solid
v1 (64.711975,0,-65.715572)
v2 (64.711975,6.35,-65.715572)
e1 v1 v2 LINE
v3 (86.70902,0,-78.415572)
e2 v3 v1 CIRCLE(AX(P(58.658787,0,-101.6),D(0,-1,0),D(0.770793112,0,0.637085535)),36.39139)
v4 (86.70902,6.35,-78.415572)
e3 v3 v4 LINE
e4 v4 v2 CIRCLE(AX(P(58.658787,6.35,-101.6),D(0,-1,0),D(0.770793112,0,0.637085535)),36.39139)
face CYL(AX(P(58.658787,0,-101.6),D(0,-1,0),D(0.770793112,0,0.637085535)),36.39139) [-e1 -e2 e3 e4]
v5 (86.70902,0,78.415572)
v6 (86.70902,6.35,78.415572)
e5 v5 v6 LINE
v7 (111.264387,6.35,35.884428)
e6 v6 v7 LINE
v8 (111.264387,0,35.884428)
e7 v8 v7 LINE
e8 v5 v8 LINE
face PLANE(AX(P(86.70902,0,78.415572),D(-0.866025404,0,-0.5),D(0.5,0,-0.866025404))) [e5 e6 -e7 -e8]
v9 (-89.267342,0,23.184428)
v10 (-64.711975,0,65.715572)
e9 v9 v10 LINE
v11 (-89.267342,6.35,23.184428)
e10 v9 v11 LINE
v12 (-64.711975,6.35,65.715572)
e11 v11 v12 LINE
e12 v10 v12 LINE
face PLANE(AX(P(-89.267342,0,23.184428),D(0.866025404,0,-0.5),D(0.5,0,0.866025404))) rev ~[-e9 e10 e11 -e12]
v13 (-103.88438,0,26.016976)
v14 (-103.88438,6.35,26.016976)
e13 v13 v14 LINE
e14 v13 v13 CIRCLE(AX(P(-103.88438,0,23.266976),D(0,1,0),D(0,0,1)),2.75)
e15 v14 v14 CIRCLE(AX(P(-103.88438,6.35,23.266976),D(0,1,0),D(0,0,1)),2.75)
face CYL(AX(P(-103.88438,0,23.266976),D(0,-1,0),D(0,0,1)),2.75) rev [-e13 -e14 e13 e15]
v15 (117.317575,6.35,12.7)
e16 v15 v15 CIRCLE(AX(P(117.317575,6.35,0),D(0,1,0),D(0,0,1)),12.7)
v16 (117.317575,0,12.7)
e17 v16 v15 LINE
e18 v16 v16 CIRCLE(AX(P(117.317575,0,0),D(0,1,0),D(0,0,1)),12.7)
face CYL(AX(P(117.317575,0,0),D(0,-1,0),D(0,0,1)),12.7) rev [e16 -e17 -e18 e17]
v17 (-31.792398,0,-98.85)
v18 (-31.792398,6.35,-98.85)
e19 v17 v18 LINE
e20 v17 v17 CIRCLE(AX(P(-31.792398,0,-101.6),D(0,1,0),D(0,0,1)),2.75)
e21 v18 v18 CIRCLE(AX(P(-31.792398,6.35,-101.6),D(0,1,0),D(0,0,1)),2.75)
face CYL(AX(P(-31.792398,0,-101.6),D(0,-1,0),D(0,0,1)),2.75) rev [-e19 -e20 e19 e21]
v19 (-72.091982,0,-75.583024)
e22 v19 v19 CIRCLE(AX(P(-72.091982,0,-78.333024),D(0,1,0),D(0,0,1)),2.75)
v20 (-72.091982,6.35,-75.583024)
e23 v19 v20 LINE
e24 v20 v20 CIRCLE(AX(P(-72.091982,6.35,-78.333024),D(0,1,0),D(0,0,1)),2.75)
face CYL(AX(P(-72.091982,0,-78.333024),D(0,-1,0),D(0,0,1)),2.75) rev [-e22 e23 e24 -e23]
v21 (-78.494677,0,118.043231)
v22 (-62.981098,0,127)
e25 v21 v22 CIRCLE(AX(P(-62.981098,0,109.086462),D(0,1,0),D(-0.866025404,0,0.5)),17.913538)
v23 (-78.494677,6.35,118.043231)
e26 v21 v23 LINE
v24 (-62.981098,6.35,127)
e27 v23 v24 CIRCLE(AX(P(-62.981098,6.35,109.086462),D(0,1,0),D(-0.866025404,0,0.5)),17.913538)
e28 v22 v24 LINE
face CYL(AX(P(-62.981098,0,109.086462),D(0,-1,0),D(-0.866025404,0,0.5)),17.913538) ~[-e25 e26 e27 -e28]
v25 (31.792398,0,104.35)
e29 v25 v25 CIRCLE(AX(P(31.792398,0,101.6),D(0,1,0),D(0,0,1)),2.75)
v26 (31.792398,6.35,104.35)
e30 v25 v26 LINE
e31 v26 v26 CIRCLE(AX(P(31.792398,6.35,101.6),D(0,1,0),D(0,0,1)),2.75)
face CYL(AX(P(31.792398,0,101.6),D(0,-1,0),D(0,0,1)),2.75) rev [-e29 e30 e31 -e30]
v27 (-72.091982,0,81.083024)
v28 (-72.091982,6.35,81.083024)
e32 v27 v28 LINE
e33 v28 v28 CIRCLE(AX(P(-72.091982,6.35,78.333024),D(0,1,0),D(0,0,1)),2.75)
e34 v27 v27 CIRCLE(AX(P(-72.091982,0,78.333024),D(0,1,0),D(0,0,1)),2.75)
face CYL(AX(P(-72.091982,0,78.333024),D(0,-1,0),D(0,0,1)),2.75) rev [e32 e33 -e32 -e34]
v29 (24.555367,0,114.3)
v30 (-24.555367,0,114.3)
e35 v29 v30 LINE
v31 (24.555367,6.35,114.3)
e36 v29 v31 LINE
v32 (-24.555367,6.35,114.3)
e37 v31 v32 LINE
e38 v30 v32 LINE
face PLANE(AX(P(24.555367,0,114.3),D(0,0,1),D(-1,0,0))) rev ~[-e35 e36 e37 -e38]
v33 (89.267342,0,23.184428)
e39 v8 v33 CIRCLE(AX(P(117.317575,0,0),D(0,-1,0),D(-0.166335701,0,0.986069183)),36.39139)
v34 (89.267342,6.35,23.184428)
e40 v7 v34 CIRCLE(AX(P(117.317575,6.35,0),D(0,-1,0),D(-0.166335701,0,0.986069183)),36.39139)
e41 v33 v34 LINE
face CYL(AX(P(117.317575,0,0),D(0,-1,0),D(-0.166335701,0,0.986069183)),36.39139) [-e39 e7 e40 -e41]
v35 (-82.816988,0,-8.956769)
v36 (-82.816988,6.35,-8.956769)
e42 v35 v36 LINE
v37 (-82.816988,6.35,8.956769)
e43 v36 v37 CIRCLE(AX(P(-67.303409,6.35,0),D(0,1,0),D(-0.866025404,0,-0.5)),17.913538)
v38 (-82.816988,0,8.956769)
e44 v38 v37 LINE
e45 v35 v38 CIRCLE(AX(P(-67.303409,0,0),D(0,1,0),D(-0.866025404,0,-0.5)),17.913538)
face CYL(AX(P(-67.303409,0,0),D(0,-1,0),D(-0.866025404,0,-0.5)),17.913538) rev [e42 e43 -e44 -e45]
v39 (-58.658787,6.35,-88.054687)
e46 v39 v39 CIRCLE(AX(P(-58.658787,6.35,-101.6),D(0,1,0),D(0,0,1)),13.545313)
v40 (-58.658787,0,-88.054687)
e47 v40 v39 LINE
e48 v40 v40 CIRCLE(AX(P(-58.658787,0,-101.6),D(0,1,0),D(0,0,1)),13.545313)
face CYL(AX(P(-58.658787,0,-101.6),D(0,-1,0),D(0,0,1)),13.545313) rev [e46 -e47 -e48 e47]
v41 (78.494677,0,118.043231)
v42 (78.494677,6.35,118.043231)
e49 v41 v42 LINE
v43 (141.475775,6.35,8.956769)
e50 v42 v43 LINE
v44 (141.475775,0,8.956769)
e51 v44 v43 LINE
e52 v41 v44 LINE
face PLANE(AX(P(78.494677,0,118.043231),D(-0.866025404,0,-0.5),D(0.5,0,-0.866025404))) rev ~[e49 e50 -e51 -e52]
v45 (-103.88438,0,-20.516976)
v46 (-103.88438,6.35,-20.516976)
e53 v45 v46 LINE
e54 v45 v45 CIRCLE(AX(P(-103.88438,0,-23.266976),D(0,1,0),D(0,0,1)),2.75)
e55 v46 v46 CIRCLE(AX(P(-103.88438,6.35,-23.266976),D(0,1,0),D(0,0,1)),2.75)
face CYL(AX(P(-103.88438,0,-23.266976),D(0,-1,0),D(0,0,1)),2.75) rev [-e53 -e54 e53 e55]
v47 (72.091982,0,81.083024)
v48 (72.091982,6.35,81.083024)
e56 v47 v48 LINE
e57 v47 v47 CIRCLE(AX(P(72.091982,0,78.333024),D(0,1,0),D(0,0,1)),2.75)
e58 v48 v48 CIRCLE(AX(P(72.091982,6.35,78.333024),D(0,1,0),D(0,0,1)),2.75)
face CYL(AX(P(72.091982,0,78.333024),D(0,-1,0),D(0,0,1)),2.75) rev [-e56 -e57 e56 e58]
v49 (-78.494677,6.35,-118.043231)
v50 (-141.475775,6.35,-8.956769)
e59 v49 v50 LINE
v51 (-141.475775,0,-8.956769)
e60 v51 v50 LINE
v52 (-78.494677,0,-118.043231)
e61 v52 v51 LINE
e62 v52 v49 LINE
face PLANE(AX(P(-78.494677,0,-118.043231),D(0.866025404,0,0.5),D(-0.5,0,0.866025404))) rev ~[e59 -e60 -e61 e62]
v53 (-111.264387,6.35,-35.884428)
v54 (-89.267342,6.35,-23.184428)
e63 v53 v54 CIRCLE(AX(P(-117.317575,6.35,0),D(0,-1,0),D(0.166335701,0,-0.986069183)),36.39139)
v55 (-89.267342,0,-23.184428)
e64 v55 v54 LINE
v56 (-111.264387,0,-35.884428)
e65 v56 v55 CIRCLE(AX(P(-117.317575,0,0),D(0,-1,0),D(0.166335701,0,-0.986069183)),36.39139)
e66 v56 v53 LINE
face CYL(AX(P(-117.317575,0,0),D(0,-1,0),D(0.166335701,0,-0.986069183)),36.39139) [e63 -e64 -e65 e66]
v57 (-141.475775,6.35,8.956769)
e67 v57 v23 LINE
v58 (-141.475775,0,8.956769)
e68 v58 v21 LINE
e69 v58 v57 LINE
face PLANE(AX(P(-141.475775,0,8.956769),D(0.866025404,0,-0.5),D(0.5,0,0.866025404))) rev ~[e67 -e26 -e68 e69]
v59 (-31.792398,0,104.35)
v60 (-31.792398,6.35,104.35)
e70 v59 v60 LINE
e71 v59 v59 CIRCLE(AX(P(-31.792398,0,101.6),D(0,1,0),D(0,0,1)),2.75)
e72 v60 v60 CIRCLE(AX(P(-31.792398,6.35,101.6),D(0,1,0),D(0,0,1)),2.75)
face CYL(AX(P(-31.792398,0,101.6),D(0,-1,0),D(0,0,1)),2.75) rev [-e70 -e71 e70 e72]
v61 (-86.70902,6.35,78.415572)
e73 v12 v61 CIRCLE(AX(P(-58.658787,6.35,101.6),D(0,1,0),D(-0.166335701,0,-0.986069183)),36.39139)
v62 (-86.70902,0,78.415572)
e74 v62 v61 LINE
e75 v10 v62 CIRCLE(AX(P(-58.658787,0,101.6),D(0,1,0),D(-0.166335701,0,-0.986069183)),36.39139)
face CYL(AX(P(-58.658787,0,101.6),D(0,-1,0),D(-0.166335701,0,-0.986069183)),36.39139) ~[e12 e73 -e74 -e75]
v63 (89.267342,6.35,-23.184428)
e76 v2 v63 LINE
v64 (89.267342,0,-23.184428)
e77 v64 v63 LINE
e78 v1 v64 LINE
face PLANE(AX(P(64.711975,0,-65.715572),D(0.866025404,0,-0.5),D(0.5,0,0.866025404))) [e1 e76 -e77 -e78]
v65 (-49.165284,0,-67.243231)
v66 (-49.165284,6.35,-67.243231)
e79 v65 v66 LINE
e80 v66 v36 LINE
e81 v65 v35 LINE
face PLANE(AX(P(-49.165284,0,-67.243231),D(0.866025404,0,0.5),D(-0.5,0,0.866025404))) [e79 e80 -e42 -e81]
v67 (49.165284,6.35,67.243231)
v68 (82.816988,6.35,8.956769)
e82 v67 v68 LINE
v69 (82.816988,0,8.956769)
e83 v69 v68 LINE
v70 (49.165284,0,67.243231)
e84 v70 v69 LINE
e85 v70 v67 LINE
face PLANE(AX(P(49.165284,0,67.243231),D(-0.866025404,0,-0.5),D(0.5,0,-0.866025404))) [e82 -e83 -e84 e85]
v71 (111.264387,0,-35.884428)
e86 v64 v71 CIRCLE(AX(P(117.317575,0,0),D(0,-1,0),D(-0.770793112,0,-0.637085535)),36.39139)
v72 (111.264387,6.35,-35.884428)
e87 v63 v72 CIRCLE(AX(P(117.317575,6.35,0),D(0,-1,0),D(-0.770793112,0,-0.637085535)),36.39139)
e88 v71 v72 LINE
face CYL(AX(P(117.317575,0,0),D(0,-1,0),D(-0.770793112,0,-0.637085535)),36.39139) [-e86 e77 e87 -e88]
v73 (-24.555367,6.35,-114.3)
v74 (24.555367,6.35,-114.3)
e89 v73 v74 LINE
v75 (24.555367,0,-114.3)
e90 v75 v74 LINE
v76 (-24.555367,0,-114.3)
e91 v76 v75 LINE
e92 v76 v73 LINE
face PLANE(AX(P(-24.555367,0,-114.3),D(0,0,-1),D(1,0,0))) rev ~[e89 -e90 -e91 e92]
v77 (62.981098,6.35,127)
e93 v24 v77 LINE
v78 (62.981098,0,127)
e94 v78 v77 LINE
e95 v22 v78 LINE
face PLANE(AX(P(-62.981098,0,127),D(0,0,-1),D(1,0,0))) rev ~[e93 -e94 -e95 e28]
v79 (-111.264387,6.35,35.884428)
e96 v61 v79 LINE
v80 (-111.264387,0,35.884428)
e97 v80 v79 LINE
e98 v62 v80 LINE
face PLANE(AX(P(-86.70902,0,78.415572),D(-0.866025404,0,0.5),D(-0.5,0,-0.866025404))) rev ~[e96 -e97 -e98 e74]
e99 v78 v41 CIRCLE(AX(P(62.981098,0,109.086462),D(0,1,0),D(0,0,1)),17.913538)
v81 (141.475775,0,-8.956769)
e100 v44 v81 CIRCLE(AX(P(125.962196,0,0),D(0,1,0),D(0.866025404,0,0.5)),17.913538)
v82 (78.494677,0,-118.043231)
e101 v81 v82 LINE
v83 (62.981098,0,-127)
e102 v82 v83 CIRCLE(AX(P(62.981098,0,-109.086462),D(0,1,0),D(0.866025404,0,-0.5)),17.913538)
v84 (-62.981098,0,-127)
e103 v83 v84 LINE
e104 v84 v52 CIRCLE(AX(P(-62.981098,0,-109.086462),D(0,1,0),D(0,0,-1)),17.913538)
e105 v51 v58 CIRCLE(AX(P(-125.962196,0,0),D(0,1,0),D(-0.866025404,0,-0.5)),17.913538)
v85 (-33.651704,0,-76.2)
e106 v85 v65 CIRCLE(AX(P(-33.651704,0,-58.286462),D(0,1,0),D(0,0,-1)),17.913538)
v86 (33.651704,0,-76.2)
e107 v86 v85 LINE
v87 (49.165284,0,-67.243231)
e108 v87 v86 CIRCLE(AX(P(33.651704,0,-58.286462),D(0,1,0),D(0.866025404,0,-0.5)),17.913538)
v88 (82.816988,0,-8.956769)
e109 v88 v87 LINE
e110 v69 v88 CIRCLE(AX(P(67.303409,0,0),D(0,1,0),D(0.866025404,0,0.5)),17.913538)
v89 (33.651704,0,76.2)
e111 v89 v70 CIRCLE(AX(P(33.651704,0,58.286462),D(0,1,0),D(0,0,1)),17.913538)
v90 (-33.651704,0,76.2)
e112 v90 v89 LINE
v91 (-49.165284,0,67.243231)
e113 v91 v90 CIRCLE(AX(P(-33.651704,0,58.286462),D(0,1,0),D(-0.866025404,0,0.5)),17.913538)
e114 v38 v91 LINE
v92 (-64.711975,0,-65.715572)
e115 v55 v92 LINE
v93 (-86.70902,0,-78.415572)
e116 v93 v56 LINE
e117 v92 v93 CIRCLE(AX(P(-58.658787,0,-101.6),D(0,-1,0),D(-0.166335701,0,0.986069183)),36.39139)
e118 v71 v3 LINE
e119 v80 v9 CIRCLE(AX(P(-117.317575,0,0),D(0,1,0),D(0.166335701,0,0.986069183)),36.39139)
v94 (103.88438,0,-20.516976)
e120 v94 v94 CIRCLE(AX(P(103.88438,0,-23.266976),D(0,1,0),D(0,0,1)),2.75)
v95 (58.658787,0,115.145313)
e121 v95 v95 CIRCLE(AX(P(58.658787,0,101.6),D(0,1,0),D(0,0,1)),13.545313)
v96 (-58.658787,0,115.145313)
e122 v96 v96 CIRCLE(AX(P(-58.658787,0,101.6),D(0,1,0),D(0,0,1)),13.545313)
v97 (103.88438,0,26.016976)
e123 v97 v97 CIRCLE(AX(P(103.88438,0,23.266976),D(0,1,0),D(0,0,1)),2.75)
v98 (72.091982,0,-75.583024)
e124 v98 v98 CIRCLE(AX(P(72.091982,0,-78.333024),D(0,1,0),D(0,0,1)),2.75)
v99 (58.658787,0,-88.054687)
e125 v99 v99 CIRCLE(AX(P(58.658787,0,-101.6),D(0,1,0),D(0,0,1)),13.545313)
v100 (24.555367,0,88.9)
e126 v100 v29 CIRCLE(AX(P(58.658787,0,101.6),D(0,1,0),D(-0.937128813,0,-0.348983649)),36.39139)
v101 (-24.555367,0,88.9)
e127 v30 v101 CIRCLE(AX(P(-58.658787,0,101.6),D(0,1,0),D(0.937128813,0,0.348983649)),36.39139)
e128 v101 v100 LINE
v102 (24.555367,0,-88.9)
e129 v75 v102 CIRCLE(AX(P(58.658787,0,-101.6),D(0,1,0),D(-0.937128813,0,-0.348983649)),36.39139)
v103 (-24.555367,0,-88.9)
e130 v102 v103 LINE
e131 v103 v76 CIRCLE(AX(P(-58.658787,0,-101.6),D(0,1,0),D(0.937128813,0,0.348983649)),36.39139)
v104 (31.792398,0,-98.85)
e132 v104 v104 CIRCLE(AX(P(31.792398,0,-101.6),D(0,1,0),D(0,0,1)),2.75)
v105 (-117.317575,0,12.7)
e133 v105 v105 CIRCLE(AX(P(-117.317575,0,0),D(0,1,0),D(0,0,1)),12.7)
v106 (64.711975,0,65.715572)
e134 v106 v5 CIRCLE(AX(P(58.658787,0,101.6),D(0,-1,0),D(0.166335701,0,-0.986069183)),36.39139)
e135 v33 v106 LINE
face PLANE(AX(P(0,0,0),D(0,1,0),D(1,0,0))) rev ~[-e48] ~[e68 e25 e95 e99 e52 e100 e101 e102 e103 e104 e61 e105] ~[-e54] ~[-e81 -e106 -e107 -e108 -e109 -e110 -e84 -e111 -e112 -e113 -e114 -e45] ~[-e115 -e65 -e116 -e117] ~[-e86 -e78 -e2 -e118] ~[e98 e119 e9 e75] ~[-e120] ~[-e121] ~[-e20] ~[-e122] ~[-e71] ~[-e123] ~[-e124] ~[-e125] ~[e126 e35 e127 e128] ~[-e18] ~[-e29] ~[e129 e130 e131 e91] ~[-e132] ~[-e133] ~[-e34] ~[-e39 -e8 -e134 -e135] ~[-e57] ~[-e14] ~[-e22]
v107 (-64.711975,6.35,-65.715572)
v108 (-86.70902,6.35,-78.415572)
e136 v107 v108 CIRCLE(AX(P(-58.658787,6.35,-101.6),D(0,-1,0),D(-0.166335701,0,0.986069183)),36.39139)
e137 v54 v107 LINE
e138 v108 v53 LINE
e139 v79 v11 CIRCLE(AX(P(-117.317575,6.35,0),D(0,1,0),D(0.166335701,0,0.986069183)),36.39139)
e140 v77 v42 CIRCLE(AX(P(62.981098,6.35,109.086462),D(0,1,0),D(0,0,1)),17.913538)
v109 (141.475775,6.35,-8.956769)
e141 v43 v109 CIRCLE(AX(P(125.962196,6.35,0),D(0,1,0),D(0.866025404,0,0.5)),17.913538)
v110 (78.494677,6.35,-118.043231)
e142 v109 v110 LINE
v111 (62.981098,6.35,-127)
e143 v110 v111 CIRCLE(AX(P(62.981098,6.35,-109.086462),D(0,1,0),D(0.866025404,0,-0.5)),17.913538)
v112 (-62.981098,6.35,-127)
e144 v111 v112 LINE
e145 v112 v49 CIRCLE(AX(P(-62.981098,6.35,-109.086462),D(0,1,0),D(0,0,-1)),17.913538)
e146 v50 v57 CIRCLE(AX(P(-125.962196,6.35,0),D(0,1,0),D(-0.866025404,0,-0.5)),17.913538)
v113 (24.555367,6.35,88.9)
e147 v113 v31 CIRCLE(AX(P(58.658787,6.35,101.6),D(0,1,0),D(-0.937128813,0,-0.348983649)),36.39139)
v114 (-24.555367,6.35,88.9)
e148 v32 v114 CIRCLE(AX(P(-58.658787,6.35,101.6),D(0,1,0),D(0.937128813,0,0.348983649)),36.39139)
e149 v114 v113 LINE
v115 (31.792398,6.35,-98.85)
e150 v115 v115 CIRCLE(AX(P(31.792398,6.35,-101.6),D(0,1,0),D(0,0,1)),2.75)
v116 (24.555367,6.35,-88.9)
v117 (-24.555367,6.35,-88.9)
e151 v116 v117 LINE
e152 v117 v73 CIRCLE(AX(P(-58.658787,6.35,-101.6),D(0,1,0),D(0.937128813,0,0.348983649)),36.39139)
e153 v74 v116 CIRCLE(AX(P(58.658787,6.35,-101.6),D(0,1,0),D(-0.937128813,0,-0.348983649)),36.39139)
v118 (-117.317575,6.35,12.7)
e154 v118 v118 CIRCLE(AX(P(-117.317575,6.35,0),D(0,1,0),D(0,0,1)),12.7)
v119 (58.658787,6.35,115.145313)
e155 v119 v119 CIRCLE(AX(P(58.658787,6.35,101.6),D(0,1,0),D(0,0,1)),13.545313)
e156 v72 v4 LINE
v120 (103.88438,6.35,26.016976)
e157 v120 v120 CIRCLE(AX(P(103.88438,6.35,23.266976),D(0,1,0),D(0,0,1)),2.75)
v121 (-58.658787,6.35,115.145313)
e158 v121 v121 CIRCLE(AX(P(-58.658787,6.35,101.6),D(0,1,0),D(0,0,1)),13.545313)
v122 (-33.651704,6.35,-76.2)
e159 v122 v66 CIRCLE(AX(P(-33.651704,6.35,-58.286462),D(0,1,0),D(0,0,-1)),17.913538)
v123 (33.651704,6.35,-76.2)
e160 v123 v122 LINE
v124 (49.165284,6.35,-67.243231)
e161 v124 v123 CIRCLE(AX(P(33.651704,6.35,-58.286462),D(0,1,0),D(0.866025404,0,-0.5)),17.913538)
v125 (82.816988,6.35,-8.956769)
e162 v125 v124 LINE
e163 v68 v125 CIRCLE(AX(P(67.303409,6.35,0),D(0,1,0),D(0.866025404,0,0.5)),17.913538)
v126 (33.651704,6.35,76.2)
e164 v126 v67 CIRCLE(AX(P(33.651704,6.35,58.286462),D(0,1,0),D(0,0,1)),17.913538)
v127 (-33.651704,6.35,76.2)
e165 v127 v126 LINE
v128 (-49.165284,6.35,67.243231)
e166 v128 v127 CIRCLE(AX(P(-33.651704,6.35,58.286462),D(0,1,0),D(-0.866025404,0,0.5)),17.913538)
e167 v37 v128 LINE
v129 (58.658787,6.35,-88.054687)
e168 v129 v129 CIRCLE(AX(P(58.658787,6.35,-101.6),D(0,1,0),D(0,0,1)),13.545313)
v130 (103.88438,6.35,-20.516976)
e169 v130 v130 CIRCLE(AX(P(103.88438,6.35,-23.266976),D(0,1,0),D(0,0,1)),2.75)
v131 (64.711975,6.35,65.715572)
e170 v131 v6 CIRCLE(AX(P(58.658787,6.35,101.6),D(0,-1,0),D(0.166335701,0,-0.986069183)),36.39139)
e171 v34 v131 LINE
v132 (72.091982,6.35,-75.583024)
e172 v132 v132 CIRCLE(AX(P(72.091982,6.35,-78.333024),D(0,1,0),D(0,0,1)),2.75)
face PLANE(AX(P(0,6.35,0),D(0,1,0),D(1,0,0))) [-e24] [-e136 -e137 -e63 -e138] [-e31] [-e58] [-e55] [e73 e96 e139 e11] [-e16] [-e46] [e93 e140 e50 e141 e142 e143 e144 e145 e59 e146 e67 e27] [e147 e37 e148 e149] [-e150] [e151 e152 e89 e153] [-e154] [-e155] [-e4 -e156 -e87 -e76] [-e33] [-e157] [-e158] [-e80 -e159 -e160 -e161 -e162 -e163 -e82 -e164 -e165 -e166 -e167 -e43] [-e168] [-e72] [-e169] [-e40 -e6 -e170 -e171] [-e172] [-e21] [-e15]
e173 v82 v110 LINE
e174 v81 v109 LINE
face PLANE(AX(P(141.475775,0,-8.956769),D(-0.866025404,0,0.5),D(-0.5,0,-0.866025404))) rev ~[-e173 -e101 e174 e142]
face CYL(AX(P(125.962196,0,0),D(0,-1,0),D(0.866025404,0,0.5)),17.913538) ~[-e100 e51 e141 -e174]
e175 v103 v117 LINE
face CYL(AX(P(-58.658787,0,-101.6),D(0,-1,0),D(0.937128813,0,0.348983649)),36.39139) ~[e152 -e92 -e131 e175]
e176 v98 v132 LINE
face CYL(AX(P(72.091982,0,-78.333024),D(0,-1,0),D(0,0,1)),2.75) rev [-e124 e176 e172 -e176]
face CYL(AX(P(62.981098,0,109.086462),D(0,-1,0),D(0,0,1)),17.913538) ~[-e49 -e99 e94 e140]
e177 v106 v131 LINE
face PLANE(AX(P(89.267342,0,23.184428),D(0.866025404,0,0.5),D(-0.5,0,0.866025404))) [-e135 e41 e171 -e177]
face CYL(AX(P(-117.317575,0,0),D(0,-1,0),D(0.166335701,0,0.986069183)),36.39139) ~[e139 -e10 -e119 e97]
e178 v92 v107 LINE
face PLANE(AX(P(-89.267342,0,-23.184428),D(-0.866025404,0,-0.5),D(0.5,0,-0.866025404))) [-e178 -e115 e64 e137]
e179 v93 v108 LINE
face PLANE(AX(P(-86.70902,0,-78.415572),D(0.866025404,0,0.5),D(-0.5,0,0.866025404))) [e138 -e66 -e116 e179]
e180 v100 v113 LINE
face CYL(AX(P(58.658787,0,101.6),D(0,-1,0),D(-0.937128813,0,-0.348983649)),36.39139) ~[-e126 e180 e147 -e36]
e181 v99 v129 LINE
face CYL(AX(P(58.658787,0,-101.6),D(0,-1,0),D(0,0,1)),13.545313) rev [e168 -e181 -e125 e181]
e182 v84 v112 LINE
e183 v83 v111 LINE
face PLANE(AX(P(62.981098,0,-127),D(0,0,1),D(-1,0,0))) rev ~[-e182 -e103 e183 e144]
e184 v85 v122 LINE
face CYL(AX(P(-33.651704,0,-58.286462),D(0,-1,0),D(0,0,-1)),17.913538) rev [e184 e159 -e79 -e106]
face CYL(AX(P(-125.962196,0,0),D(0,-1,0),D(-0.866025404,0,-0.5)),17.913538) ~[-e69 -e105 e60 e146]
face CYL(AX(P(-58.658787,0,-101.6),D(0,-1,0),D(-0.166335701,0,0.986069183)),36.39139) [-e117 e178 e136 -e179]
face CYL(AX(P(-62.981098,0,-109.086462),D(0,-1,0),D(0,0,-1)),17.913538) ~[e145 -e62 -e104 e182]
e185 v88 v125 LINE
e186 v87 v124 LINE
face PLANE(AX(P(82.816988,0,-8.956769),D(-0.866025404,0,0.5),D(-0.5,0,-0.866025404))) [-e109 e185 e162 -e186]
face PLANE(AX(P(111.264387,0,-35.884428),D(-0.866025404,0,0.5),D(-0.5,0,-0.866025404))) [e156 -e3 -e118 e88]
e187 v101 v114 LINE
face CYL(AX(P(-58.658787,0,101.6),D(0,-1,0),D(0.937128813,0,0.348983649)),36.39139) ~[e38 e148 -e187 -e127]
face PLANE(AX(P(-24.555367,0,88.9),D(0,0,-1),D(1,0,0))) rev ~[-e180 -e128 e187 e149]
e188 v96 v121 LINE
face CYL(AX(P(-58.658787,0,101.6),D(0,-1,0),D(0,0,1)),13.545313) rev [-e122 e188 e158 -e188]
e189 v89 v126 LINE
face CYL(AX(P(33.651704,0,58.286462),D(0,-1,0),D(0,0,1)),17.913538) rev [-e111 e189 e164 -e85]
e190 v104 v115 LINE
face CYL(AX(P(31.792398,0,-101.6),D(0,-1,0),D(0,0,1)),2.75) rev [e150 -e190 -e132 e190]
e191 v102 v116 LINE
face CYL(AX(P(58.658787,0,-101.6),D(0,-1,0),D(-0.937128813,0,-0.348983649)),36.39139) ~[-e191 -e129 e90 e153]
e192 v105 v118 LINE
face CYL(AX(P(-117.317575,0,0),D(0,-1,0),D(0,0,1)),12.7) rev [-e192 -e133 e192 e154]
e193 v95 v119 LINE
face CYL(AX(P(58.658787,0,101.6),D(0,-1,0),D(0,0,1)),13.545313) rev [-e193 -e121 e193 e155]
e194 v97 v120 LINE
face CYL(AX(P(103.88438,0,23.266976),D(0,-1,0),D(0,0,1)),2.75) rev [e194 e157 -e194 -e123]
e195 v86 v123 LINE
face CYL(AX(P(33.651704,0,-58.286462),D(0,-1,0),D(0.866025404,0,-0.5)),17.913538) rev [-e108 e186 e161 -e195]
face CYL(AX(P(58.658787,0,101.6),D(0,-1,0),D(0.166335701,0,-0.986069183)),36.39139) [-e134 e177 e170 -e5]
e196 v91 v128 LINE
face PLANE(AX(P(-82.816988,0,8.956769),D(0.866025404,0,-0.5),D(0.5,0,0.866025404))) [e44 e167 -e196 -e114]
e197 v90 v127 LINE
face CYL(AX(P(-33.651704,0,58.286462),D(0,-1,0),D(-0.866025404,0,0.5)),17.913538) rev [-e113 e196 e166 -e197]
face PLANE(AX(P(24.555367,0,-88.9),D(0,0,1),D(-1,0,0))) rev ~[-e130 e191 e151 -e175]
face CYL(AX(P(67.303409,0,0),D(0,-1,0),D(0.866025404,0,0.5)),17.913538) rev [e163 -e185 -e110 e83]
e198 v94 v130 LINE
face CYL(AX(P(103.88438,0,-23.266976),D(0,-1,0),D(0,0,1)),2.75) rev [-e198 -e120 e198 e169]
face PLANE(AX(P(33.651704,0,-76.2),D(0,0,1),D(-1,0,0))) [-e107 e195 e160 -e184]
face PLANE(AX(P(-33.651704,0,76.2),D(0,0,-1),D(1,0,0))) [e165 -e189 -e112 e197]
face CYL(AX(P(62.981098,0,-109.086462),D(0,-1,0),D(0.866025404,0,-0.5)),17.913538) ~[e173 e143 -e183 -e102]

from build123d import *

# Parameters (mm, degrees)
SKETCH1_R           = 13.545312508
SKETCH1_R_2         = 12.7
SKETCH1_R_3         = 2.749999961
BOSS_EXTRUDE1_DEPTH = 6.35


with BuildPart() as part:
    # Sketch1 → Boss-Extrude1 (new body)
    with BuildSketch(Plane(origin=(0, 0, 0), x_dir=(1, 0, 0), z_dir=(0, 1, 0))):
        with BuildLine():
            Line((141.475775265, 8.956769201), (78.494677297, 118.043230799))
            ThreePointArc((78.494677297, 118.043230799), (71.937867169, 124.600040926), (62.981097968, 127))
            Line((62.981097968, 127), (-62.981097968, 127))
            ThreePointArc((-62.981097968, 127), (-71.937867169, 124.600040926), (-78.494677297, 118.043230799))
            Line((-78.494677297, 118.043230799), (-141.475775265, 8.956769201))
            ThreePointArc((-141.475775265, 8.956769201), (-143.875734339, 0), (-141.475775265, -8.956769201))
            Line((-141.475775265, -8.956769201), (-78.494677297, -118.043230799))
            ThreePointArc((-78.494677297, -118.043230799), (-71.937867169, -124.600040926), (-62.981097968, -127))
            Line((-62.981097968, -127), (62.981097968, -127))
            ThreePointArc((62.981097968, -127), (71.937867169, -124.600040926), (78.494677297, -118.043230799))
            Line((78.494677297, -118.043230799), (141.475775265, -8.956769201))
            ThreePointArc((141.475775265, -8.956769201), (143.875734339, 0), (141.475775265, 8.956769201))
        make_face()
        with Locations(Location((-58.65878735, 101.6, 0), (0, 0, 270))):
            Circle(SKETCH1_R, mode=Mode.SUBTRACT)
        with Locations(Location((-58.65878735, -101.6, 0), (0, 0, 270))):
            Circle(SKETCH1_R, mode=Mode.SUBTRACT)
        with Locations(Location((58.65878735, -101.6, 0), (0, 0, 270))):
            Circle(SKETCH1_R, mode=Mode.SUBTRACT)
        with Locations(Location((58.65878735, 101.6, 0), (0, 0, 270))):
            Circle(SKETCH1_R, mode=Mode.SUBTRACT)
        with Locations(Location((-117.317574699, 0, 0), (0, 0, 270))):
            Circle(SKETCH1_R_2, mode=Mode.SUBTRACT)
        with Locations(Location((117.317574699, 0, 0), (0, 0, 270))):
            Circle(SKETCH1_R_2, mode=Mode.SUBTRACT)
        with Locations(Location((-72.091982251, 78.333023923, 0), (0, 0, 270))):
            Circle(SKETCH1_R_3, mode=Mode.SUBTRACT)
        with Locations(Location((-31.792397547, 101.6, 0), (0, 0, 270))):
            Circle(SKETCH1_R_3, mode=Mode.SUBTRACT)
        with Locations(Location((31.792397547, 101.6, 0), (0, 0, 270))):
            Circle(SKETCH1_R_3, mode=Mode.SUBTRACT)
        with Locations(Location((72.091982251, 78.333023923, 0), (0, 0, 270))):
            Circle(SKETCH1_R_3, mode=Mode.SUBTRACT)
        with Locations(Location((-103.884379798, 23.266976077, 0), (0, 0, 270))):
            Circle(SKETCH1_R_3, mode=Mode.SUBTRACT)
        with Locations(Location((-103.884379798, -23.266976077, 0), (0, 0, 270))):
            Circle(SKETCH1_R_3, mode=Mode.SUBTRACT)
        with Locations(Location((-31.792397547, -101.6, 0), (0, 0, 270))):
            Circle(SKETCH1_R_3, mode=Mode.SUBTRACT)
        with Locations(Location((-72.091982251, -78.333023923, 0), (0, 0, 270))):
            Circle(SKETCH1_R_3, mode=Mode.SUBTRACT)
        with Locations(Location((103.884379798, -23.266976077, 0), (0, 0, 270))):
            Circle(SKETCH1_R_3, mode=Mode.SUBTRACT)
        with Locations(Location((103.884379798, 23.266976077, 0), (0, 0, 270))):
            Circle(SKETCH1_R_3, mode=Mode.SUBTRACT)
        with Locations(Location((72.091982251, -78.333023923, 0), (0, 0, 270))):
            Circle(SKETCH1_R_3, mode=Mode.SUBTRACT)
        with Locations(Location((31.792397547, -101.6, 0), (0, 0, 270))):
            Circle(SKETCH1_R_3, mode=Mode.SUBTRACT)
        with BuildLine():
            Line((82.816987915, 8.956769201), (49.165283622, 67.243230799))
            ThreePointArc((49.165283622, 67.243230799), (42.608473495, 73.800040926), (33.651704293, 76.2))
            Line((33.651704293, 76.2), (-33.651704293, 76.2))
            ThreePointArc((-33.651704293, 76.2), (-42.608473495, 73.800040926), (-49.165283622, 67.243230799))
            Line((-49.165283622, 67.243230799), (-82.816987915, 8.956769201))
            ThreePointArc((-82.816987915, 8.956769201), (-85.216946989, 0), (-82.816987915, -8.956769201))
            Line((-82.816987915, -8.956769201), (-49.165283622, -67.243230799))
            ThreePointArc((-49.165283622, -67.243230799), (-42.608473495, -73.800040926), (-33.651704293, -76.2))
            Line((-33.651704293, -76.2), (33.651704293, -76.2))
            ThreePointArc((33.651704293, -76.2), (42.608473495, -73.800040926), (49.165283622, -67.243230799))
            Line((49.165283622, -67.243230799), (82.816987915, -8.956769201))
            ThreePointArc((82.816987915, -8.956769201), (85.216946989, 0), (82.816987915, 8.956769201))
        make_face(mode=Mode.SUBTRACT)
        with BuildLine():
            Line((-24.555367407, 114.3), (24.555367407, 114.3))
            ThreePointArc((24.555367407, 114.3), (22.267397547, 101.6), (24.555367407, 88.9))
            Line((24.555367407, 88.9), (-24.555367407, 88.9))
            ThreePointArc((-24.555367407, 88.9), (-22.267397547, 101.6), (-24.555367407, 114.3))
        make_face(mode=Mode.SUBTRACT)
        with BuildLine():
            Line((-86.709019949, 78.415571974), (-111.264387356, 35.884428026))
            ThreePointArc((-111.264387356, 35.884428026), (-99.121879798, 31.515868048), (-89.2673421, 23.184428026))
            Line((-89.2673421, 23.184428026), (-64.711974693, 65.715571974))
            ThreePointArc((-64.711974693, 65.715571974), (-76.854482251, 70.084131952), (-86.709019949, 78.415571974))
        make_face(mode=Mode.SUBTRACT)
        with BuildLine():
            Line((-89.2673421, -23.184428026), (-64.711974693, -65.715571974))
            ThreePointArc((-64.711974693, -65.715571974), (-76.854482251, -70.084131952), (-86.709019949, -78.415571974))
            Line((-86.709019949, -78.415571974), (-111.264387356, -35.884428026))
            ThreePointArc((-111.264387356, -35.884428026), (-99.121879798, -31.515868048), (-89.2673421, -23.184428026))
        make_face(mode=Mode.SUBTRACT)
        with BuildLine():
            Line((-24.555367407, -88.9), (24.555367407, -88.9))
            ThreePointArc((24.555367407, -88.9), (22.267397547, -101.6), (24.555367407, -114.3))
            Line((24.555367407, -114.3), (-24.555367407, -114.3))
            ThreePointArc((-24.555367407, -114.3), (-22.267397547, -101.6), (-24.555367407, -88.9))
        make_face(mode=Mode.SUBTRACT)
        with BuildLine():
            Line((89.2673421, -23.184428026), (64.711974693, -65.715571974))
            ThreePointArc((64.711974693, -65.715571974), (76.854482251, -70.084131952), (86.709019949, -78.415571974))
            Line((86.709019949, -78.415571974), (111.264387356, -35.884428026))
            ThreePointArc((111.264387356, -35.884428026), (99.121879798, -31.515868048), (89.2673421, -23.184428026))
        make_face(mode=Mode.SUBTRACT)
        with BuildLine():
            Line((64.711974693, 65.715571974), (89.2673421, 23.184428026))
            ThreePointArc((89.2673421, 23.184428026), (99.121879798, 31.515868048), (111.264387356, 35.884428026))
            Line((111.264387356, 35.884428026), (86.709019949, 78.415571974))
            ThreePointArc((86.709019949, 78.415571974), (76.854482251, 70.084131952), (64.711974693, 65.715571974))
        make_face(mode=Mode.SUBTRACT)
    extrude(amount=BOSS_EXTRUDE1_DEPTH)


solid = part.part
